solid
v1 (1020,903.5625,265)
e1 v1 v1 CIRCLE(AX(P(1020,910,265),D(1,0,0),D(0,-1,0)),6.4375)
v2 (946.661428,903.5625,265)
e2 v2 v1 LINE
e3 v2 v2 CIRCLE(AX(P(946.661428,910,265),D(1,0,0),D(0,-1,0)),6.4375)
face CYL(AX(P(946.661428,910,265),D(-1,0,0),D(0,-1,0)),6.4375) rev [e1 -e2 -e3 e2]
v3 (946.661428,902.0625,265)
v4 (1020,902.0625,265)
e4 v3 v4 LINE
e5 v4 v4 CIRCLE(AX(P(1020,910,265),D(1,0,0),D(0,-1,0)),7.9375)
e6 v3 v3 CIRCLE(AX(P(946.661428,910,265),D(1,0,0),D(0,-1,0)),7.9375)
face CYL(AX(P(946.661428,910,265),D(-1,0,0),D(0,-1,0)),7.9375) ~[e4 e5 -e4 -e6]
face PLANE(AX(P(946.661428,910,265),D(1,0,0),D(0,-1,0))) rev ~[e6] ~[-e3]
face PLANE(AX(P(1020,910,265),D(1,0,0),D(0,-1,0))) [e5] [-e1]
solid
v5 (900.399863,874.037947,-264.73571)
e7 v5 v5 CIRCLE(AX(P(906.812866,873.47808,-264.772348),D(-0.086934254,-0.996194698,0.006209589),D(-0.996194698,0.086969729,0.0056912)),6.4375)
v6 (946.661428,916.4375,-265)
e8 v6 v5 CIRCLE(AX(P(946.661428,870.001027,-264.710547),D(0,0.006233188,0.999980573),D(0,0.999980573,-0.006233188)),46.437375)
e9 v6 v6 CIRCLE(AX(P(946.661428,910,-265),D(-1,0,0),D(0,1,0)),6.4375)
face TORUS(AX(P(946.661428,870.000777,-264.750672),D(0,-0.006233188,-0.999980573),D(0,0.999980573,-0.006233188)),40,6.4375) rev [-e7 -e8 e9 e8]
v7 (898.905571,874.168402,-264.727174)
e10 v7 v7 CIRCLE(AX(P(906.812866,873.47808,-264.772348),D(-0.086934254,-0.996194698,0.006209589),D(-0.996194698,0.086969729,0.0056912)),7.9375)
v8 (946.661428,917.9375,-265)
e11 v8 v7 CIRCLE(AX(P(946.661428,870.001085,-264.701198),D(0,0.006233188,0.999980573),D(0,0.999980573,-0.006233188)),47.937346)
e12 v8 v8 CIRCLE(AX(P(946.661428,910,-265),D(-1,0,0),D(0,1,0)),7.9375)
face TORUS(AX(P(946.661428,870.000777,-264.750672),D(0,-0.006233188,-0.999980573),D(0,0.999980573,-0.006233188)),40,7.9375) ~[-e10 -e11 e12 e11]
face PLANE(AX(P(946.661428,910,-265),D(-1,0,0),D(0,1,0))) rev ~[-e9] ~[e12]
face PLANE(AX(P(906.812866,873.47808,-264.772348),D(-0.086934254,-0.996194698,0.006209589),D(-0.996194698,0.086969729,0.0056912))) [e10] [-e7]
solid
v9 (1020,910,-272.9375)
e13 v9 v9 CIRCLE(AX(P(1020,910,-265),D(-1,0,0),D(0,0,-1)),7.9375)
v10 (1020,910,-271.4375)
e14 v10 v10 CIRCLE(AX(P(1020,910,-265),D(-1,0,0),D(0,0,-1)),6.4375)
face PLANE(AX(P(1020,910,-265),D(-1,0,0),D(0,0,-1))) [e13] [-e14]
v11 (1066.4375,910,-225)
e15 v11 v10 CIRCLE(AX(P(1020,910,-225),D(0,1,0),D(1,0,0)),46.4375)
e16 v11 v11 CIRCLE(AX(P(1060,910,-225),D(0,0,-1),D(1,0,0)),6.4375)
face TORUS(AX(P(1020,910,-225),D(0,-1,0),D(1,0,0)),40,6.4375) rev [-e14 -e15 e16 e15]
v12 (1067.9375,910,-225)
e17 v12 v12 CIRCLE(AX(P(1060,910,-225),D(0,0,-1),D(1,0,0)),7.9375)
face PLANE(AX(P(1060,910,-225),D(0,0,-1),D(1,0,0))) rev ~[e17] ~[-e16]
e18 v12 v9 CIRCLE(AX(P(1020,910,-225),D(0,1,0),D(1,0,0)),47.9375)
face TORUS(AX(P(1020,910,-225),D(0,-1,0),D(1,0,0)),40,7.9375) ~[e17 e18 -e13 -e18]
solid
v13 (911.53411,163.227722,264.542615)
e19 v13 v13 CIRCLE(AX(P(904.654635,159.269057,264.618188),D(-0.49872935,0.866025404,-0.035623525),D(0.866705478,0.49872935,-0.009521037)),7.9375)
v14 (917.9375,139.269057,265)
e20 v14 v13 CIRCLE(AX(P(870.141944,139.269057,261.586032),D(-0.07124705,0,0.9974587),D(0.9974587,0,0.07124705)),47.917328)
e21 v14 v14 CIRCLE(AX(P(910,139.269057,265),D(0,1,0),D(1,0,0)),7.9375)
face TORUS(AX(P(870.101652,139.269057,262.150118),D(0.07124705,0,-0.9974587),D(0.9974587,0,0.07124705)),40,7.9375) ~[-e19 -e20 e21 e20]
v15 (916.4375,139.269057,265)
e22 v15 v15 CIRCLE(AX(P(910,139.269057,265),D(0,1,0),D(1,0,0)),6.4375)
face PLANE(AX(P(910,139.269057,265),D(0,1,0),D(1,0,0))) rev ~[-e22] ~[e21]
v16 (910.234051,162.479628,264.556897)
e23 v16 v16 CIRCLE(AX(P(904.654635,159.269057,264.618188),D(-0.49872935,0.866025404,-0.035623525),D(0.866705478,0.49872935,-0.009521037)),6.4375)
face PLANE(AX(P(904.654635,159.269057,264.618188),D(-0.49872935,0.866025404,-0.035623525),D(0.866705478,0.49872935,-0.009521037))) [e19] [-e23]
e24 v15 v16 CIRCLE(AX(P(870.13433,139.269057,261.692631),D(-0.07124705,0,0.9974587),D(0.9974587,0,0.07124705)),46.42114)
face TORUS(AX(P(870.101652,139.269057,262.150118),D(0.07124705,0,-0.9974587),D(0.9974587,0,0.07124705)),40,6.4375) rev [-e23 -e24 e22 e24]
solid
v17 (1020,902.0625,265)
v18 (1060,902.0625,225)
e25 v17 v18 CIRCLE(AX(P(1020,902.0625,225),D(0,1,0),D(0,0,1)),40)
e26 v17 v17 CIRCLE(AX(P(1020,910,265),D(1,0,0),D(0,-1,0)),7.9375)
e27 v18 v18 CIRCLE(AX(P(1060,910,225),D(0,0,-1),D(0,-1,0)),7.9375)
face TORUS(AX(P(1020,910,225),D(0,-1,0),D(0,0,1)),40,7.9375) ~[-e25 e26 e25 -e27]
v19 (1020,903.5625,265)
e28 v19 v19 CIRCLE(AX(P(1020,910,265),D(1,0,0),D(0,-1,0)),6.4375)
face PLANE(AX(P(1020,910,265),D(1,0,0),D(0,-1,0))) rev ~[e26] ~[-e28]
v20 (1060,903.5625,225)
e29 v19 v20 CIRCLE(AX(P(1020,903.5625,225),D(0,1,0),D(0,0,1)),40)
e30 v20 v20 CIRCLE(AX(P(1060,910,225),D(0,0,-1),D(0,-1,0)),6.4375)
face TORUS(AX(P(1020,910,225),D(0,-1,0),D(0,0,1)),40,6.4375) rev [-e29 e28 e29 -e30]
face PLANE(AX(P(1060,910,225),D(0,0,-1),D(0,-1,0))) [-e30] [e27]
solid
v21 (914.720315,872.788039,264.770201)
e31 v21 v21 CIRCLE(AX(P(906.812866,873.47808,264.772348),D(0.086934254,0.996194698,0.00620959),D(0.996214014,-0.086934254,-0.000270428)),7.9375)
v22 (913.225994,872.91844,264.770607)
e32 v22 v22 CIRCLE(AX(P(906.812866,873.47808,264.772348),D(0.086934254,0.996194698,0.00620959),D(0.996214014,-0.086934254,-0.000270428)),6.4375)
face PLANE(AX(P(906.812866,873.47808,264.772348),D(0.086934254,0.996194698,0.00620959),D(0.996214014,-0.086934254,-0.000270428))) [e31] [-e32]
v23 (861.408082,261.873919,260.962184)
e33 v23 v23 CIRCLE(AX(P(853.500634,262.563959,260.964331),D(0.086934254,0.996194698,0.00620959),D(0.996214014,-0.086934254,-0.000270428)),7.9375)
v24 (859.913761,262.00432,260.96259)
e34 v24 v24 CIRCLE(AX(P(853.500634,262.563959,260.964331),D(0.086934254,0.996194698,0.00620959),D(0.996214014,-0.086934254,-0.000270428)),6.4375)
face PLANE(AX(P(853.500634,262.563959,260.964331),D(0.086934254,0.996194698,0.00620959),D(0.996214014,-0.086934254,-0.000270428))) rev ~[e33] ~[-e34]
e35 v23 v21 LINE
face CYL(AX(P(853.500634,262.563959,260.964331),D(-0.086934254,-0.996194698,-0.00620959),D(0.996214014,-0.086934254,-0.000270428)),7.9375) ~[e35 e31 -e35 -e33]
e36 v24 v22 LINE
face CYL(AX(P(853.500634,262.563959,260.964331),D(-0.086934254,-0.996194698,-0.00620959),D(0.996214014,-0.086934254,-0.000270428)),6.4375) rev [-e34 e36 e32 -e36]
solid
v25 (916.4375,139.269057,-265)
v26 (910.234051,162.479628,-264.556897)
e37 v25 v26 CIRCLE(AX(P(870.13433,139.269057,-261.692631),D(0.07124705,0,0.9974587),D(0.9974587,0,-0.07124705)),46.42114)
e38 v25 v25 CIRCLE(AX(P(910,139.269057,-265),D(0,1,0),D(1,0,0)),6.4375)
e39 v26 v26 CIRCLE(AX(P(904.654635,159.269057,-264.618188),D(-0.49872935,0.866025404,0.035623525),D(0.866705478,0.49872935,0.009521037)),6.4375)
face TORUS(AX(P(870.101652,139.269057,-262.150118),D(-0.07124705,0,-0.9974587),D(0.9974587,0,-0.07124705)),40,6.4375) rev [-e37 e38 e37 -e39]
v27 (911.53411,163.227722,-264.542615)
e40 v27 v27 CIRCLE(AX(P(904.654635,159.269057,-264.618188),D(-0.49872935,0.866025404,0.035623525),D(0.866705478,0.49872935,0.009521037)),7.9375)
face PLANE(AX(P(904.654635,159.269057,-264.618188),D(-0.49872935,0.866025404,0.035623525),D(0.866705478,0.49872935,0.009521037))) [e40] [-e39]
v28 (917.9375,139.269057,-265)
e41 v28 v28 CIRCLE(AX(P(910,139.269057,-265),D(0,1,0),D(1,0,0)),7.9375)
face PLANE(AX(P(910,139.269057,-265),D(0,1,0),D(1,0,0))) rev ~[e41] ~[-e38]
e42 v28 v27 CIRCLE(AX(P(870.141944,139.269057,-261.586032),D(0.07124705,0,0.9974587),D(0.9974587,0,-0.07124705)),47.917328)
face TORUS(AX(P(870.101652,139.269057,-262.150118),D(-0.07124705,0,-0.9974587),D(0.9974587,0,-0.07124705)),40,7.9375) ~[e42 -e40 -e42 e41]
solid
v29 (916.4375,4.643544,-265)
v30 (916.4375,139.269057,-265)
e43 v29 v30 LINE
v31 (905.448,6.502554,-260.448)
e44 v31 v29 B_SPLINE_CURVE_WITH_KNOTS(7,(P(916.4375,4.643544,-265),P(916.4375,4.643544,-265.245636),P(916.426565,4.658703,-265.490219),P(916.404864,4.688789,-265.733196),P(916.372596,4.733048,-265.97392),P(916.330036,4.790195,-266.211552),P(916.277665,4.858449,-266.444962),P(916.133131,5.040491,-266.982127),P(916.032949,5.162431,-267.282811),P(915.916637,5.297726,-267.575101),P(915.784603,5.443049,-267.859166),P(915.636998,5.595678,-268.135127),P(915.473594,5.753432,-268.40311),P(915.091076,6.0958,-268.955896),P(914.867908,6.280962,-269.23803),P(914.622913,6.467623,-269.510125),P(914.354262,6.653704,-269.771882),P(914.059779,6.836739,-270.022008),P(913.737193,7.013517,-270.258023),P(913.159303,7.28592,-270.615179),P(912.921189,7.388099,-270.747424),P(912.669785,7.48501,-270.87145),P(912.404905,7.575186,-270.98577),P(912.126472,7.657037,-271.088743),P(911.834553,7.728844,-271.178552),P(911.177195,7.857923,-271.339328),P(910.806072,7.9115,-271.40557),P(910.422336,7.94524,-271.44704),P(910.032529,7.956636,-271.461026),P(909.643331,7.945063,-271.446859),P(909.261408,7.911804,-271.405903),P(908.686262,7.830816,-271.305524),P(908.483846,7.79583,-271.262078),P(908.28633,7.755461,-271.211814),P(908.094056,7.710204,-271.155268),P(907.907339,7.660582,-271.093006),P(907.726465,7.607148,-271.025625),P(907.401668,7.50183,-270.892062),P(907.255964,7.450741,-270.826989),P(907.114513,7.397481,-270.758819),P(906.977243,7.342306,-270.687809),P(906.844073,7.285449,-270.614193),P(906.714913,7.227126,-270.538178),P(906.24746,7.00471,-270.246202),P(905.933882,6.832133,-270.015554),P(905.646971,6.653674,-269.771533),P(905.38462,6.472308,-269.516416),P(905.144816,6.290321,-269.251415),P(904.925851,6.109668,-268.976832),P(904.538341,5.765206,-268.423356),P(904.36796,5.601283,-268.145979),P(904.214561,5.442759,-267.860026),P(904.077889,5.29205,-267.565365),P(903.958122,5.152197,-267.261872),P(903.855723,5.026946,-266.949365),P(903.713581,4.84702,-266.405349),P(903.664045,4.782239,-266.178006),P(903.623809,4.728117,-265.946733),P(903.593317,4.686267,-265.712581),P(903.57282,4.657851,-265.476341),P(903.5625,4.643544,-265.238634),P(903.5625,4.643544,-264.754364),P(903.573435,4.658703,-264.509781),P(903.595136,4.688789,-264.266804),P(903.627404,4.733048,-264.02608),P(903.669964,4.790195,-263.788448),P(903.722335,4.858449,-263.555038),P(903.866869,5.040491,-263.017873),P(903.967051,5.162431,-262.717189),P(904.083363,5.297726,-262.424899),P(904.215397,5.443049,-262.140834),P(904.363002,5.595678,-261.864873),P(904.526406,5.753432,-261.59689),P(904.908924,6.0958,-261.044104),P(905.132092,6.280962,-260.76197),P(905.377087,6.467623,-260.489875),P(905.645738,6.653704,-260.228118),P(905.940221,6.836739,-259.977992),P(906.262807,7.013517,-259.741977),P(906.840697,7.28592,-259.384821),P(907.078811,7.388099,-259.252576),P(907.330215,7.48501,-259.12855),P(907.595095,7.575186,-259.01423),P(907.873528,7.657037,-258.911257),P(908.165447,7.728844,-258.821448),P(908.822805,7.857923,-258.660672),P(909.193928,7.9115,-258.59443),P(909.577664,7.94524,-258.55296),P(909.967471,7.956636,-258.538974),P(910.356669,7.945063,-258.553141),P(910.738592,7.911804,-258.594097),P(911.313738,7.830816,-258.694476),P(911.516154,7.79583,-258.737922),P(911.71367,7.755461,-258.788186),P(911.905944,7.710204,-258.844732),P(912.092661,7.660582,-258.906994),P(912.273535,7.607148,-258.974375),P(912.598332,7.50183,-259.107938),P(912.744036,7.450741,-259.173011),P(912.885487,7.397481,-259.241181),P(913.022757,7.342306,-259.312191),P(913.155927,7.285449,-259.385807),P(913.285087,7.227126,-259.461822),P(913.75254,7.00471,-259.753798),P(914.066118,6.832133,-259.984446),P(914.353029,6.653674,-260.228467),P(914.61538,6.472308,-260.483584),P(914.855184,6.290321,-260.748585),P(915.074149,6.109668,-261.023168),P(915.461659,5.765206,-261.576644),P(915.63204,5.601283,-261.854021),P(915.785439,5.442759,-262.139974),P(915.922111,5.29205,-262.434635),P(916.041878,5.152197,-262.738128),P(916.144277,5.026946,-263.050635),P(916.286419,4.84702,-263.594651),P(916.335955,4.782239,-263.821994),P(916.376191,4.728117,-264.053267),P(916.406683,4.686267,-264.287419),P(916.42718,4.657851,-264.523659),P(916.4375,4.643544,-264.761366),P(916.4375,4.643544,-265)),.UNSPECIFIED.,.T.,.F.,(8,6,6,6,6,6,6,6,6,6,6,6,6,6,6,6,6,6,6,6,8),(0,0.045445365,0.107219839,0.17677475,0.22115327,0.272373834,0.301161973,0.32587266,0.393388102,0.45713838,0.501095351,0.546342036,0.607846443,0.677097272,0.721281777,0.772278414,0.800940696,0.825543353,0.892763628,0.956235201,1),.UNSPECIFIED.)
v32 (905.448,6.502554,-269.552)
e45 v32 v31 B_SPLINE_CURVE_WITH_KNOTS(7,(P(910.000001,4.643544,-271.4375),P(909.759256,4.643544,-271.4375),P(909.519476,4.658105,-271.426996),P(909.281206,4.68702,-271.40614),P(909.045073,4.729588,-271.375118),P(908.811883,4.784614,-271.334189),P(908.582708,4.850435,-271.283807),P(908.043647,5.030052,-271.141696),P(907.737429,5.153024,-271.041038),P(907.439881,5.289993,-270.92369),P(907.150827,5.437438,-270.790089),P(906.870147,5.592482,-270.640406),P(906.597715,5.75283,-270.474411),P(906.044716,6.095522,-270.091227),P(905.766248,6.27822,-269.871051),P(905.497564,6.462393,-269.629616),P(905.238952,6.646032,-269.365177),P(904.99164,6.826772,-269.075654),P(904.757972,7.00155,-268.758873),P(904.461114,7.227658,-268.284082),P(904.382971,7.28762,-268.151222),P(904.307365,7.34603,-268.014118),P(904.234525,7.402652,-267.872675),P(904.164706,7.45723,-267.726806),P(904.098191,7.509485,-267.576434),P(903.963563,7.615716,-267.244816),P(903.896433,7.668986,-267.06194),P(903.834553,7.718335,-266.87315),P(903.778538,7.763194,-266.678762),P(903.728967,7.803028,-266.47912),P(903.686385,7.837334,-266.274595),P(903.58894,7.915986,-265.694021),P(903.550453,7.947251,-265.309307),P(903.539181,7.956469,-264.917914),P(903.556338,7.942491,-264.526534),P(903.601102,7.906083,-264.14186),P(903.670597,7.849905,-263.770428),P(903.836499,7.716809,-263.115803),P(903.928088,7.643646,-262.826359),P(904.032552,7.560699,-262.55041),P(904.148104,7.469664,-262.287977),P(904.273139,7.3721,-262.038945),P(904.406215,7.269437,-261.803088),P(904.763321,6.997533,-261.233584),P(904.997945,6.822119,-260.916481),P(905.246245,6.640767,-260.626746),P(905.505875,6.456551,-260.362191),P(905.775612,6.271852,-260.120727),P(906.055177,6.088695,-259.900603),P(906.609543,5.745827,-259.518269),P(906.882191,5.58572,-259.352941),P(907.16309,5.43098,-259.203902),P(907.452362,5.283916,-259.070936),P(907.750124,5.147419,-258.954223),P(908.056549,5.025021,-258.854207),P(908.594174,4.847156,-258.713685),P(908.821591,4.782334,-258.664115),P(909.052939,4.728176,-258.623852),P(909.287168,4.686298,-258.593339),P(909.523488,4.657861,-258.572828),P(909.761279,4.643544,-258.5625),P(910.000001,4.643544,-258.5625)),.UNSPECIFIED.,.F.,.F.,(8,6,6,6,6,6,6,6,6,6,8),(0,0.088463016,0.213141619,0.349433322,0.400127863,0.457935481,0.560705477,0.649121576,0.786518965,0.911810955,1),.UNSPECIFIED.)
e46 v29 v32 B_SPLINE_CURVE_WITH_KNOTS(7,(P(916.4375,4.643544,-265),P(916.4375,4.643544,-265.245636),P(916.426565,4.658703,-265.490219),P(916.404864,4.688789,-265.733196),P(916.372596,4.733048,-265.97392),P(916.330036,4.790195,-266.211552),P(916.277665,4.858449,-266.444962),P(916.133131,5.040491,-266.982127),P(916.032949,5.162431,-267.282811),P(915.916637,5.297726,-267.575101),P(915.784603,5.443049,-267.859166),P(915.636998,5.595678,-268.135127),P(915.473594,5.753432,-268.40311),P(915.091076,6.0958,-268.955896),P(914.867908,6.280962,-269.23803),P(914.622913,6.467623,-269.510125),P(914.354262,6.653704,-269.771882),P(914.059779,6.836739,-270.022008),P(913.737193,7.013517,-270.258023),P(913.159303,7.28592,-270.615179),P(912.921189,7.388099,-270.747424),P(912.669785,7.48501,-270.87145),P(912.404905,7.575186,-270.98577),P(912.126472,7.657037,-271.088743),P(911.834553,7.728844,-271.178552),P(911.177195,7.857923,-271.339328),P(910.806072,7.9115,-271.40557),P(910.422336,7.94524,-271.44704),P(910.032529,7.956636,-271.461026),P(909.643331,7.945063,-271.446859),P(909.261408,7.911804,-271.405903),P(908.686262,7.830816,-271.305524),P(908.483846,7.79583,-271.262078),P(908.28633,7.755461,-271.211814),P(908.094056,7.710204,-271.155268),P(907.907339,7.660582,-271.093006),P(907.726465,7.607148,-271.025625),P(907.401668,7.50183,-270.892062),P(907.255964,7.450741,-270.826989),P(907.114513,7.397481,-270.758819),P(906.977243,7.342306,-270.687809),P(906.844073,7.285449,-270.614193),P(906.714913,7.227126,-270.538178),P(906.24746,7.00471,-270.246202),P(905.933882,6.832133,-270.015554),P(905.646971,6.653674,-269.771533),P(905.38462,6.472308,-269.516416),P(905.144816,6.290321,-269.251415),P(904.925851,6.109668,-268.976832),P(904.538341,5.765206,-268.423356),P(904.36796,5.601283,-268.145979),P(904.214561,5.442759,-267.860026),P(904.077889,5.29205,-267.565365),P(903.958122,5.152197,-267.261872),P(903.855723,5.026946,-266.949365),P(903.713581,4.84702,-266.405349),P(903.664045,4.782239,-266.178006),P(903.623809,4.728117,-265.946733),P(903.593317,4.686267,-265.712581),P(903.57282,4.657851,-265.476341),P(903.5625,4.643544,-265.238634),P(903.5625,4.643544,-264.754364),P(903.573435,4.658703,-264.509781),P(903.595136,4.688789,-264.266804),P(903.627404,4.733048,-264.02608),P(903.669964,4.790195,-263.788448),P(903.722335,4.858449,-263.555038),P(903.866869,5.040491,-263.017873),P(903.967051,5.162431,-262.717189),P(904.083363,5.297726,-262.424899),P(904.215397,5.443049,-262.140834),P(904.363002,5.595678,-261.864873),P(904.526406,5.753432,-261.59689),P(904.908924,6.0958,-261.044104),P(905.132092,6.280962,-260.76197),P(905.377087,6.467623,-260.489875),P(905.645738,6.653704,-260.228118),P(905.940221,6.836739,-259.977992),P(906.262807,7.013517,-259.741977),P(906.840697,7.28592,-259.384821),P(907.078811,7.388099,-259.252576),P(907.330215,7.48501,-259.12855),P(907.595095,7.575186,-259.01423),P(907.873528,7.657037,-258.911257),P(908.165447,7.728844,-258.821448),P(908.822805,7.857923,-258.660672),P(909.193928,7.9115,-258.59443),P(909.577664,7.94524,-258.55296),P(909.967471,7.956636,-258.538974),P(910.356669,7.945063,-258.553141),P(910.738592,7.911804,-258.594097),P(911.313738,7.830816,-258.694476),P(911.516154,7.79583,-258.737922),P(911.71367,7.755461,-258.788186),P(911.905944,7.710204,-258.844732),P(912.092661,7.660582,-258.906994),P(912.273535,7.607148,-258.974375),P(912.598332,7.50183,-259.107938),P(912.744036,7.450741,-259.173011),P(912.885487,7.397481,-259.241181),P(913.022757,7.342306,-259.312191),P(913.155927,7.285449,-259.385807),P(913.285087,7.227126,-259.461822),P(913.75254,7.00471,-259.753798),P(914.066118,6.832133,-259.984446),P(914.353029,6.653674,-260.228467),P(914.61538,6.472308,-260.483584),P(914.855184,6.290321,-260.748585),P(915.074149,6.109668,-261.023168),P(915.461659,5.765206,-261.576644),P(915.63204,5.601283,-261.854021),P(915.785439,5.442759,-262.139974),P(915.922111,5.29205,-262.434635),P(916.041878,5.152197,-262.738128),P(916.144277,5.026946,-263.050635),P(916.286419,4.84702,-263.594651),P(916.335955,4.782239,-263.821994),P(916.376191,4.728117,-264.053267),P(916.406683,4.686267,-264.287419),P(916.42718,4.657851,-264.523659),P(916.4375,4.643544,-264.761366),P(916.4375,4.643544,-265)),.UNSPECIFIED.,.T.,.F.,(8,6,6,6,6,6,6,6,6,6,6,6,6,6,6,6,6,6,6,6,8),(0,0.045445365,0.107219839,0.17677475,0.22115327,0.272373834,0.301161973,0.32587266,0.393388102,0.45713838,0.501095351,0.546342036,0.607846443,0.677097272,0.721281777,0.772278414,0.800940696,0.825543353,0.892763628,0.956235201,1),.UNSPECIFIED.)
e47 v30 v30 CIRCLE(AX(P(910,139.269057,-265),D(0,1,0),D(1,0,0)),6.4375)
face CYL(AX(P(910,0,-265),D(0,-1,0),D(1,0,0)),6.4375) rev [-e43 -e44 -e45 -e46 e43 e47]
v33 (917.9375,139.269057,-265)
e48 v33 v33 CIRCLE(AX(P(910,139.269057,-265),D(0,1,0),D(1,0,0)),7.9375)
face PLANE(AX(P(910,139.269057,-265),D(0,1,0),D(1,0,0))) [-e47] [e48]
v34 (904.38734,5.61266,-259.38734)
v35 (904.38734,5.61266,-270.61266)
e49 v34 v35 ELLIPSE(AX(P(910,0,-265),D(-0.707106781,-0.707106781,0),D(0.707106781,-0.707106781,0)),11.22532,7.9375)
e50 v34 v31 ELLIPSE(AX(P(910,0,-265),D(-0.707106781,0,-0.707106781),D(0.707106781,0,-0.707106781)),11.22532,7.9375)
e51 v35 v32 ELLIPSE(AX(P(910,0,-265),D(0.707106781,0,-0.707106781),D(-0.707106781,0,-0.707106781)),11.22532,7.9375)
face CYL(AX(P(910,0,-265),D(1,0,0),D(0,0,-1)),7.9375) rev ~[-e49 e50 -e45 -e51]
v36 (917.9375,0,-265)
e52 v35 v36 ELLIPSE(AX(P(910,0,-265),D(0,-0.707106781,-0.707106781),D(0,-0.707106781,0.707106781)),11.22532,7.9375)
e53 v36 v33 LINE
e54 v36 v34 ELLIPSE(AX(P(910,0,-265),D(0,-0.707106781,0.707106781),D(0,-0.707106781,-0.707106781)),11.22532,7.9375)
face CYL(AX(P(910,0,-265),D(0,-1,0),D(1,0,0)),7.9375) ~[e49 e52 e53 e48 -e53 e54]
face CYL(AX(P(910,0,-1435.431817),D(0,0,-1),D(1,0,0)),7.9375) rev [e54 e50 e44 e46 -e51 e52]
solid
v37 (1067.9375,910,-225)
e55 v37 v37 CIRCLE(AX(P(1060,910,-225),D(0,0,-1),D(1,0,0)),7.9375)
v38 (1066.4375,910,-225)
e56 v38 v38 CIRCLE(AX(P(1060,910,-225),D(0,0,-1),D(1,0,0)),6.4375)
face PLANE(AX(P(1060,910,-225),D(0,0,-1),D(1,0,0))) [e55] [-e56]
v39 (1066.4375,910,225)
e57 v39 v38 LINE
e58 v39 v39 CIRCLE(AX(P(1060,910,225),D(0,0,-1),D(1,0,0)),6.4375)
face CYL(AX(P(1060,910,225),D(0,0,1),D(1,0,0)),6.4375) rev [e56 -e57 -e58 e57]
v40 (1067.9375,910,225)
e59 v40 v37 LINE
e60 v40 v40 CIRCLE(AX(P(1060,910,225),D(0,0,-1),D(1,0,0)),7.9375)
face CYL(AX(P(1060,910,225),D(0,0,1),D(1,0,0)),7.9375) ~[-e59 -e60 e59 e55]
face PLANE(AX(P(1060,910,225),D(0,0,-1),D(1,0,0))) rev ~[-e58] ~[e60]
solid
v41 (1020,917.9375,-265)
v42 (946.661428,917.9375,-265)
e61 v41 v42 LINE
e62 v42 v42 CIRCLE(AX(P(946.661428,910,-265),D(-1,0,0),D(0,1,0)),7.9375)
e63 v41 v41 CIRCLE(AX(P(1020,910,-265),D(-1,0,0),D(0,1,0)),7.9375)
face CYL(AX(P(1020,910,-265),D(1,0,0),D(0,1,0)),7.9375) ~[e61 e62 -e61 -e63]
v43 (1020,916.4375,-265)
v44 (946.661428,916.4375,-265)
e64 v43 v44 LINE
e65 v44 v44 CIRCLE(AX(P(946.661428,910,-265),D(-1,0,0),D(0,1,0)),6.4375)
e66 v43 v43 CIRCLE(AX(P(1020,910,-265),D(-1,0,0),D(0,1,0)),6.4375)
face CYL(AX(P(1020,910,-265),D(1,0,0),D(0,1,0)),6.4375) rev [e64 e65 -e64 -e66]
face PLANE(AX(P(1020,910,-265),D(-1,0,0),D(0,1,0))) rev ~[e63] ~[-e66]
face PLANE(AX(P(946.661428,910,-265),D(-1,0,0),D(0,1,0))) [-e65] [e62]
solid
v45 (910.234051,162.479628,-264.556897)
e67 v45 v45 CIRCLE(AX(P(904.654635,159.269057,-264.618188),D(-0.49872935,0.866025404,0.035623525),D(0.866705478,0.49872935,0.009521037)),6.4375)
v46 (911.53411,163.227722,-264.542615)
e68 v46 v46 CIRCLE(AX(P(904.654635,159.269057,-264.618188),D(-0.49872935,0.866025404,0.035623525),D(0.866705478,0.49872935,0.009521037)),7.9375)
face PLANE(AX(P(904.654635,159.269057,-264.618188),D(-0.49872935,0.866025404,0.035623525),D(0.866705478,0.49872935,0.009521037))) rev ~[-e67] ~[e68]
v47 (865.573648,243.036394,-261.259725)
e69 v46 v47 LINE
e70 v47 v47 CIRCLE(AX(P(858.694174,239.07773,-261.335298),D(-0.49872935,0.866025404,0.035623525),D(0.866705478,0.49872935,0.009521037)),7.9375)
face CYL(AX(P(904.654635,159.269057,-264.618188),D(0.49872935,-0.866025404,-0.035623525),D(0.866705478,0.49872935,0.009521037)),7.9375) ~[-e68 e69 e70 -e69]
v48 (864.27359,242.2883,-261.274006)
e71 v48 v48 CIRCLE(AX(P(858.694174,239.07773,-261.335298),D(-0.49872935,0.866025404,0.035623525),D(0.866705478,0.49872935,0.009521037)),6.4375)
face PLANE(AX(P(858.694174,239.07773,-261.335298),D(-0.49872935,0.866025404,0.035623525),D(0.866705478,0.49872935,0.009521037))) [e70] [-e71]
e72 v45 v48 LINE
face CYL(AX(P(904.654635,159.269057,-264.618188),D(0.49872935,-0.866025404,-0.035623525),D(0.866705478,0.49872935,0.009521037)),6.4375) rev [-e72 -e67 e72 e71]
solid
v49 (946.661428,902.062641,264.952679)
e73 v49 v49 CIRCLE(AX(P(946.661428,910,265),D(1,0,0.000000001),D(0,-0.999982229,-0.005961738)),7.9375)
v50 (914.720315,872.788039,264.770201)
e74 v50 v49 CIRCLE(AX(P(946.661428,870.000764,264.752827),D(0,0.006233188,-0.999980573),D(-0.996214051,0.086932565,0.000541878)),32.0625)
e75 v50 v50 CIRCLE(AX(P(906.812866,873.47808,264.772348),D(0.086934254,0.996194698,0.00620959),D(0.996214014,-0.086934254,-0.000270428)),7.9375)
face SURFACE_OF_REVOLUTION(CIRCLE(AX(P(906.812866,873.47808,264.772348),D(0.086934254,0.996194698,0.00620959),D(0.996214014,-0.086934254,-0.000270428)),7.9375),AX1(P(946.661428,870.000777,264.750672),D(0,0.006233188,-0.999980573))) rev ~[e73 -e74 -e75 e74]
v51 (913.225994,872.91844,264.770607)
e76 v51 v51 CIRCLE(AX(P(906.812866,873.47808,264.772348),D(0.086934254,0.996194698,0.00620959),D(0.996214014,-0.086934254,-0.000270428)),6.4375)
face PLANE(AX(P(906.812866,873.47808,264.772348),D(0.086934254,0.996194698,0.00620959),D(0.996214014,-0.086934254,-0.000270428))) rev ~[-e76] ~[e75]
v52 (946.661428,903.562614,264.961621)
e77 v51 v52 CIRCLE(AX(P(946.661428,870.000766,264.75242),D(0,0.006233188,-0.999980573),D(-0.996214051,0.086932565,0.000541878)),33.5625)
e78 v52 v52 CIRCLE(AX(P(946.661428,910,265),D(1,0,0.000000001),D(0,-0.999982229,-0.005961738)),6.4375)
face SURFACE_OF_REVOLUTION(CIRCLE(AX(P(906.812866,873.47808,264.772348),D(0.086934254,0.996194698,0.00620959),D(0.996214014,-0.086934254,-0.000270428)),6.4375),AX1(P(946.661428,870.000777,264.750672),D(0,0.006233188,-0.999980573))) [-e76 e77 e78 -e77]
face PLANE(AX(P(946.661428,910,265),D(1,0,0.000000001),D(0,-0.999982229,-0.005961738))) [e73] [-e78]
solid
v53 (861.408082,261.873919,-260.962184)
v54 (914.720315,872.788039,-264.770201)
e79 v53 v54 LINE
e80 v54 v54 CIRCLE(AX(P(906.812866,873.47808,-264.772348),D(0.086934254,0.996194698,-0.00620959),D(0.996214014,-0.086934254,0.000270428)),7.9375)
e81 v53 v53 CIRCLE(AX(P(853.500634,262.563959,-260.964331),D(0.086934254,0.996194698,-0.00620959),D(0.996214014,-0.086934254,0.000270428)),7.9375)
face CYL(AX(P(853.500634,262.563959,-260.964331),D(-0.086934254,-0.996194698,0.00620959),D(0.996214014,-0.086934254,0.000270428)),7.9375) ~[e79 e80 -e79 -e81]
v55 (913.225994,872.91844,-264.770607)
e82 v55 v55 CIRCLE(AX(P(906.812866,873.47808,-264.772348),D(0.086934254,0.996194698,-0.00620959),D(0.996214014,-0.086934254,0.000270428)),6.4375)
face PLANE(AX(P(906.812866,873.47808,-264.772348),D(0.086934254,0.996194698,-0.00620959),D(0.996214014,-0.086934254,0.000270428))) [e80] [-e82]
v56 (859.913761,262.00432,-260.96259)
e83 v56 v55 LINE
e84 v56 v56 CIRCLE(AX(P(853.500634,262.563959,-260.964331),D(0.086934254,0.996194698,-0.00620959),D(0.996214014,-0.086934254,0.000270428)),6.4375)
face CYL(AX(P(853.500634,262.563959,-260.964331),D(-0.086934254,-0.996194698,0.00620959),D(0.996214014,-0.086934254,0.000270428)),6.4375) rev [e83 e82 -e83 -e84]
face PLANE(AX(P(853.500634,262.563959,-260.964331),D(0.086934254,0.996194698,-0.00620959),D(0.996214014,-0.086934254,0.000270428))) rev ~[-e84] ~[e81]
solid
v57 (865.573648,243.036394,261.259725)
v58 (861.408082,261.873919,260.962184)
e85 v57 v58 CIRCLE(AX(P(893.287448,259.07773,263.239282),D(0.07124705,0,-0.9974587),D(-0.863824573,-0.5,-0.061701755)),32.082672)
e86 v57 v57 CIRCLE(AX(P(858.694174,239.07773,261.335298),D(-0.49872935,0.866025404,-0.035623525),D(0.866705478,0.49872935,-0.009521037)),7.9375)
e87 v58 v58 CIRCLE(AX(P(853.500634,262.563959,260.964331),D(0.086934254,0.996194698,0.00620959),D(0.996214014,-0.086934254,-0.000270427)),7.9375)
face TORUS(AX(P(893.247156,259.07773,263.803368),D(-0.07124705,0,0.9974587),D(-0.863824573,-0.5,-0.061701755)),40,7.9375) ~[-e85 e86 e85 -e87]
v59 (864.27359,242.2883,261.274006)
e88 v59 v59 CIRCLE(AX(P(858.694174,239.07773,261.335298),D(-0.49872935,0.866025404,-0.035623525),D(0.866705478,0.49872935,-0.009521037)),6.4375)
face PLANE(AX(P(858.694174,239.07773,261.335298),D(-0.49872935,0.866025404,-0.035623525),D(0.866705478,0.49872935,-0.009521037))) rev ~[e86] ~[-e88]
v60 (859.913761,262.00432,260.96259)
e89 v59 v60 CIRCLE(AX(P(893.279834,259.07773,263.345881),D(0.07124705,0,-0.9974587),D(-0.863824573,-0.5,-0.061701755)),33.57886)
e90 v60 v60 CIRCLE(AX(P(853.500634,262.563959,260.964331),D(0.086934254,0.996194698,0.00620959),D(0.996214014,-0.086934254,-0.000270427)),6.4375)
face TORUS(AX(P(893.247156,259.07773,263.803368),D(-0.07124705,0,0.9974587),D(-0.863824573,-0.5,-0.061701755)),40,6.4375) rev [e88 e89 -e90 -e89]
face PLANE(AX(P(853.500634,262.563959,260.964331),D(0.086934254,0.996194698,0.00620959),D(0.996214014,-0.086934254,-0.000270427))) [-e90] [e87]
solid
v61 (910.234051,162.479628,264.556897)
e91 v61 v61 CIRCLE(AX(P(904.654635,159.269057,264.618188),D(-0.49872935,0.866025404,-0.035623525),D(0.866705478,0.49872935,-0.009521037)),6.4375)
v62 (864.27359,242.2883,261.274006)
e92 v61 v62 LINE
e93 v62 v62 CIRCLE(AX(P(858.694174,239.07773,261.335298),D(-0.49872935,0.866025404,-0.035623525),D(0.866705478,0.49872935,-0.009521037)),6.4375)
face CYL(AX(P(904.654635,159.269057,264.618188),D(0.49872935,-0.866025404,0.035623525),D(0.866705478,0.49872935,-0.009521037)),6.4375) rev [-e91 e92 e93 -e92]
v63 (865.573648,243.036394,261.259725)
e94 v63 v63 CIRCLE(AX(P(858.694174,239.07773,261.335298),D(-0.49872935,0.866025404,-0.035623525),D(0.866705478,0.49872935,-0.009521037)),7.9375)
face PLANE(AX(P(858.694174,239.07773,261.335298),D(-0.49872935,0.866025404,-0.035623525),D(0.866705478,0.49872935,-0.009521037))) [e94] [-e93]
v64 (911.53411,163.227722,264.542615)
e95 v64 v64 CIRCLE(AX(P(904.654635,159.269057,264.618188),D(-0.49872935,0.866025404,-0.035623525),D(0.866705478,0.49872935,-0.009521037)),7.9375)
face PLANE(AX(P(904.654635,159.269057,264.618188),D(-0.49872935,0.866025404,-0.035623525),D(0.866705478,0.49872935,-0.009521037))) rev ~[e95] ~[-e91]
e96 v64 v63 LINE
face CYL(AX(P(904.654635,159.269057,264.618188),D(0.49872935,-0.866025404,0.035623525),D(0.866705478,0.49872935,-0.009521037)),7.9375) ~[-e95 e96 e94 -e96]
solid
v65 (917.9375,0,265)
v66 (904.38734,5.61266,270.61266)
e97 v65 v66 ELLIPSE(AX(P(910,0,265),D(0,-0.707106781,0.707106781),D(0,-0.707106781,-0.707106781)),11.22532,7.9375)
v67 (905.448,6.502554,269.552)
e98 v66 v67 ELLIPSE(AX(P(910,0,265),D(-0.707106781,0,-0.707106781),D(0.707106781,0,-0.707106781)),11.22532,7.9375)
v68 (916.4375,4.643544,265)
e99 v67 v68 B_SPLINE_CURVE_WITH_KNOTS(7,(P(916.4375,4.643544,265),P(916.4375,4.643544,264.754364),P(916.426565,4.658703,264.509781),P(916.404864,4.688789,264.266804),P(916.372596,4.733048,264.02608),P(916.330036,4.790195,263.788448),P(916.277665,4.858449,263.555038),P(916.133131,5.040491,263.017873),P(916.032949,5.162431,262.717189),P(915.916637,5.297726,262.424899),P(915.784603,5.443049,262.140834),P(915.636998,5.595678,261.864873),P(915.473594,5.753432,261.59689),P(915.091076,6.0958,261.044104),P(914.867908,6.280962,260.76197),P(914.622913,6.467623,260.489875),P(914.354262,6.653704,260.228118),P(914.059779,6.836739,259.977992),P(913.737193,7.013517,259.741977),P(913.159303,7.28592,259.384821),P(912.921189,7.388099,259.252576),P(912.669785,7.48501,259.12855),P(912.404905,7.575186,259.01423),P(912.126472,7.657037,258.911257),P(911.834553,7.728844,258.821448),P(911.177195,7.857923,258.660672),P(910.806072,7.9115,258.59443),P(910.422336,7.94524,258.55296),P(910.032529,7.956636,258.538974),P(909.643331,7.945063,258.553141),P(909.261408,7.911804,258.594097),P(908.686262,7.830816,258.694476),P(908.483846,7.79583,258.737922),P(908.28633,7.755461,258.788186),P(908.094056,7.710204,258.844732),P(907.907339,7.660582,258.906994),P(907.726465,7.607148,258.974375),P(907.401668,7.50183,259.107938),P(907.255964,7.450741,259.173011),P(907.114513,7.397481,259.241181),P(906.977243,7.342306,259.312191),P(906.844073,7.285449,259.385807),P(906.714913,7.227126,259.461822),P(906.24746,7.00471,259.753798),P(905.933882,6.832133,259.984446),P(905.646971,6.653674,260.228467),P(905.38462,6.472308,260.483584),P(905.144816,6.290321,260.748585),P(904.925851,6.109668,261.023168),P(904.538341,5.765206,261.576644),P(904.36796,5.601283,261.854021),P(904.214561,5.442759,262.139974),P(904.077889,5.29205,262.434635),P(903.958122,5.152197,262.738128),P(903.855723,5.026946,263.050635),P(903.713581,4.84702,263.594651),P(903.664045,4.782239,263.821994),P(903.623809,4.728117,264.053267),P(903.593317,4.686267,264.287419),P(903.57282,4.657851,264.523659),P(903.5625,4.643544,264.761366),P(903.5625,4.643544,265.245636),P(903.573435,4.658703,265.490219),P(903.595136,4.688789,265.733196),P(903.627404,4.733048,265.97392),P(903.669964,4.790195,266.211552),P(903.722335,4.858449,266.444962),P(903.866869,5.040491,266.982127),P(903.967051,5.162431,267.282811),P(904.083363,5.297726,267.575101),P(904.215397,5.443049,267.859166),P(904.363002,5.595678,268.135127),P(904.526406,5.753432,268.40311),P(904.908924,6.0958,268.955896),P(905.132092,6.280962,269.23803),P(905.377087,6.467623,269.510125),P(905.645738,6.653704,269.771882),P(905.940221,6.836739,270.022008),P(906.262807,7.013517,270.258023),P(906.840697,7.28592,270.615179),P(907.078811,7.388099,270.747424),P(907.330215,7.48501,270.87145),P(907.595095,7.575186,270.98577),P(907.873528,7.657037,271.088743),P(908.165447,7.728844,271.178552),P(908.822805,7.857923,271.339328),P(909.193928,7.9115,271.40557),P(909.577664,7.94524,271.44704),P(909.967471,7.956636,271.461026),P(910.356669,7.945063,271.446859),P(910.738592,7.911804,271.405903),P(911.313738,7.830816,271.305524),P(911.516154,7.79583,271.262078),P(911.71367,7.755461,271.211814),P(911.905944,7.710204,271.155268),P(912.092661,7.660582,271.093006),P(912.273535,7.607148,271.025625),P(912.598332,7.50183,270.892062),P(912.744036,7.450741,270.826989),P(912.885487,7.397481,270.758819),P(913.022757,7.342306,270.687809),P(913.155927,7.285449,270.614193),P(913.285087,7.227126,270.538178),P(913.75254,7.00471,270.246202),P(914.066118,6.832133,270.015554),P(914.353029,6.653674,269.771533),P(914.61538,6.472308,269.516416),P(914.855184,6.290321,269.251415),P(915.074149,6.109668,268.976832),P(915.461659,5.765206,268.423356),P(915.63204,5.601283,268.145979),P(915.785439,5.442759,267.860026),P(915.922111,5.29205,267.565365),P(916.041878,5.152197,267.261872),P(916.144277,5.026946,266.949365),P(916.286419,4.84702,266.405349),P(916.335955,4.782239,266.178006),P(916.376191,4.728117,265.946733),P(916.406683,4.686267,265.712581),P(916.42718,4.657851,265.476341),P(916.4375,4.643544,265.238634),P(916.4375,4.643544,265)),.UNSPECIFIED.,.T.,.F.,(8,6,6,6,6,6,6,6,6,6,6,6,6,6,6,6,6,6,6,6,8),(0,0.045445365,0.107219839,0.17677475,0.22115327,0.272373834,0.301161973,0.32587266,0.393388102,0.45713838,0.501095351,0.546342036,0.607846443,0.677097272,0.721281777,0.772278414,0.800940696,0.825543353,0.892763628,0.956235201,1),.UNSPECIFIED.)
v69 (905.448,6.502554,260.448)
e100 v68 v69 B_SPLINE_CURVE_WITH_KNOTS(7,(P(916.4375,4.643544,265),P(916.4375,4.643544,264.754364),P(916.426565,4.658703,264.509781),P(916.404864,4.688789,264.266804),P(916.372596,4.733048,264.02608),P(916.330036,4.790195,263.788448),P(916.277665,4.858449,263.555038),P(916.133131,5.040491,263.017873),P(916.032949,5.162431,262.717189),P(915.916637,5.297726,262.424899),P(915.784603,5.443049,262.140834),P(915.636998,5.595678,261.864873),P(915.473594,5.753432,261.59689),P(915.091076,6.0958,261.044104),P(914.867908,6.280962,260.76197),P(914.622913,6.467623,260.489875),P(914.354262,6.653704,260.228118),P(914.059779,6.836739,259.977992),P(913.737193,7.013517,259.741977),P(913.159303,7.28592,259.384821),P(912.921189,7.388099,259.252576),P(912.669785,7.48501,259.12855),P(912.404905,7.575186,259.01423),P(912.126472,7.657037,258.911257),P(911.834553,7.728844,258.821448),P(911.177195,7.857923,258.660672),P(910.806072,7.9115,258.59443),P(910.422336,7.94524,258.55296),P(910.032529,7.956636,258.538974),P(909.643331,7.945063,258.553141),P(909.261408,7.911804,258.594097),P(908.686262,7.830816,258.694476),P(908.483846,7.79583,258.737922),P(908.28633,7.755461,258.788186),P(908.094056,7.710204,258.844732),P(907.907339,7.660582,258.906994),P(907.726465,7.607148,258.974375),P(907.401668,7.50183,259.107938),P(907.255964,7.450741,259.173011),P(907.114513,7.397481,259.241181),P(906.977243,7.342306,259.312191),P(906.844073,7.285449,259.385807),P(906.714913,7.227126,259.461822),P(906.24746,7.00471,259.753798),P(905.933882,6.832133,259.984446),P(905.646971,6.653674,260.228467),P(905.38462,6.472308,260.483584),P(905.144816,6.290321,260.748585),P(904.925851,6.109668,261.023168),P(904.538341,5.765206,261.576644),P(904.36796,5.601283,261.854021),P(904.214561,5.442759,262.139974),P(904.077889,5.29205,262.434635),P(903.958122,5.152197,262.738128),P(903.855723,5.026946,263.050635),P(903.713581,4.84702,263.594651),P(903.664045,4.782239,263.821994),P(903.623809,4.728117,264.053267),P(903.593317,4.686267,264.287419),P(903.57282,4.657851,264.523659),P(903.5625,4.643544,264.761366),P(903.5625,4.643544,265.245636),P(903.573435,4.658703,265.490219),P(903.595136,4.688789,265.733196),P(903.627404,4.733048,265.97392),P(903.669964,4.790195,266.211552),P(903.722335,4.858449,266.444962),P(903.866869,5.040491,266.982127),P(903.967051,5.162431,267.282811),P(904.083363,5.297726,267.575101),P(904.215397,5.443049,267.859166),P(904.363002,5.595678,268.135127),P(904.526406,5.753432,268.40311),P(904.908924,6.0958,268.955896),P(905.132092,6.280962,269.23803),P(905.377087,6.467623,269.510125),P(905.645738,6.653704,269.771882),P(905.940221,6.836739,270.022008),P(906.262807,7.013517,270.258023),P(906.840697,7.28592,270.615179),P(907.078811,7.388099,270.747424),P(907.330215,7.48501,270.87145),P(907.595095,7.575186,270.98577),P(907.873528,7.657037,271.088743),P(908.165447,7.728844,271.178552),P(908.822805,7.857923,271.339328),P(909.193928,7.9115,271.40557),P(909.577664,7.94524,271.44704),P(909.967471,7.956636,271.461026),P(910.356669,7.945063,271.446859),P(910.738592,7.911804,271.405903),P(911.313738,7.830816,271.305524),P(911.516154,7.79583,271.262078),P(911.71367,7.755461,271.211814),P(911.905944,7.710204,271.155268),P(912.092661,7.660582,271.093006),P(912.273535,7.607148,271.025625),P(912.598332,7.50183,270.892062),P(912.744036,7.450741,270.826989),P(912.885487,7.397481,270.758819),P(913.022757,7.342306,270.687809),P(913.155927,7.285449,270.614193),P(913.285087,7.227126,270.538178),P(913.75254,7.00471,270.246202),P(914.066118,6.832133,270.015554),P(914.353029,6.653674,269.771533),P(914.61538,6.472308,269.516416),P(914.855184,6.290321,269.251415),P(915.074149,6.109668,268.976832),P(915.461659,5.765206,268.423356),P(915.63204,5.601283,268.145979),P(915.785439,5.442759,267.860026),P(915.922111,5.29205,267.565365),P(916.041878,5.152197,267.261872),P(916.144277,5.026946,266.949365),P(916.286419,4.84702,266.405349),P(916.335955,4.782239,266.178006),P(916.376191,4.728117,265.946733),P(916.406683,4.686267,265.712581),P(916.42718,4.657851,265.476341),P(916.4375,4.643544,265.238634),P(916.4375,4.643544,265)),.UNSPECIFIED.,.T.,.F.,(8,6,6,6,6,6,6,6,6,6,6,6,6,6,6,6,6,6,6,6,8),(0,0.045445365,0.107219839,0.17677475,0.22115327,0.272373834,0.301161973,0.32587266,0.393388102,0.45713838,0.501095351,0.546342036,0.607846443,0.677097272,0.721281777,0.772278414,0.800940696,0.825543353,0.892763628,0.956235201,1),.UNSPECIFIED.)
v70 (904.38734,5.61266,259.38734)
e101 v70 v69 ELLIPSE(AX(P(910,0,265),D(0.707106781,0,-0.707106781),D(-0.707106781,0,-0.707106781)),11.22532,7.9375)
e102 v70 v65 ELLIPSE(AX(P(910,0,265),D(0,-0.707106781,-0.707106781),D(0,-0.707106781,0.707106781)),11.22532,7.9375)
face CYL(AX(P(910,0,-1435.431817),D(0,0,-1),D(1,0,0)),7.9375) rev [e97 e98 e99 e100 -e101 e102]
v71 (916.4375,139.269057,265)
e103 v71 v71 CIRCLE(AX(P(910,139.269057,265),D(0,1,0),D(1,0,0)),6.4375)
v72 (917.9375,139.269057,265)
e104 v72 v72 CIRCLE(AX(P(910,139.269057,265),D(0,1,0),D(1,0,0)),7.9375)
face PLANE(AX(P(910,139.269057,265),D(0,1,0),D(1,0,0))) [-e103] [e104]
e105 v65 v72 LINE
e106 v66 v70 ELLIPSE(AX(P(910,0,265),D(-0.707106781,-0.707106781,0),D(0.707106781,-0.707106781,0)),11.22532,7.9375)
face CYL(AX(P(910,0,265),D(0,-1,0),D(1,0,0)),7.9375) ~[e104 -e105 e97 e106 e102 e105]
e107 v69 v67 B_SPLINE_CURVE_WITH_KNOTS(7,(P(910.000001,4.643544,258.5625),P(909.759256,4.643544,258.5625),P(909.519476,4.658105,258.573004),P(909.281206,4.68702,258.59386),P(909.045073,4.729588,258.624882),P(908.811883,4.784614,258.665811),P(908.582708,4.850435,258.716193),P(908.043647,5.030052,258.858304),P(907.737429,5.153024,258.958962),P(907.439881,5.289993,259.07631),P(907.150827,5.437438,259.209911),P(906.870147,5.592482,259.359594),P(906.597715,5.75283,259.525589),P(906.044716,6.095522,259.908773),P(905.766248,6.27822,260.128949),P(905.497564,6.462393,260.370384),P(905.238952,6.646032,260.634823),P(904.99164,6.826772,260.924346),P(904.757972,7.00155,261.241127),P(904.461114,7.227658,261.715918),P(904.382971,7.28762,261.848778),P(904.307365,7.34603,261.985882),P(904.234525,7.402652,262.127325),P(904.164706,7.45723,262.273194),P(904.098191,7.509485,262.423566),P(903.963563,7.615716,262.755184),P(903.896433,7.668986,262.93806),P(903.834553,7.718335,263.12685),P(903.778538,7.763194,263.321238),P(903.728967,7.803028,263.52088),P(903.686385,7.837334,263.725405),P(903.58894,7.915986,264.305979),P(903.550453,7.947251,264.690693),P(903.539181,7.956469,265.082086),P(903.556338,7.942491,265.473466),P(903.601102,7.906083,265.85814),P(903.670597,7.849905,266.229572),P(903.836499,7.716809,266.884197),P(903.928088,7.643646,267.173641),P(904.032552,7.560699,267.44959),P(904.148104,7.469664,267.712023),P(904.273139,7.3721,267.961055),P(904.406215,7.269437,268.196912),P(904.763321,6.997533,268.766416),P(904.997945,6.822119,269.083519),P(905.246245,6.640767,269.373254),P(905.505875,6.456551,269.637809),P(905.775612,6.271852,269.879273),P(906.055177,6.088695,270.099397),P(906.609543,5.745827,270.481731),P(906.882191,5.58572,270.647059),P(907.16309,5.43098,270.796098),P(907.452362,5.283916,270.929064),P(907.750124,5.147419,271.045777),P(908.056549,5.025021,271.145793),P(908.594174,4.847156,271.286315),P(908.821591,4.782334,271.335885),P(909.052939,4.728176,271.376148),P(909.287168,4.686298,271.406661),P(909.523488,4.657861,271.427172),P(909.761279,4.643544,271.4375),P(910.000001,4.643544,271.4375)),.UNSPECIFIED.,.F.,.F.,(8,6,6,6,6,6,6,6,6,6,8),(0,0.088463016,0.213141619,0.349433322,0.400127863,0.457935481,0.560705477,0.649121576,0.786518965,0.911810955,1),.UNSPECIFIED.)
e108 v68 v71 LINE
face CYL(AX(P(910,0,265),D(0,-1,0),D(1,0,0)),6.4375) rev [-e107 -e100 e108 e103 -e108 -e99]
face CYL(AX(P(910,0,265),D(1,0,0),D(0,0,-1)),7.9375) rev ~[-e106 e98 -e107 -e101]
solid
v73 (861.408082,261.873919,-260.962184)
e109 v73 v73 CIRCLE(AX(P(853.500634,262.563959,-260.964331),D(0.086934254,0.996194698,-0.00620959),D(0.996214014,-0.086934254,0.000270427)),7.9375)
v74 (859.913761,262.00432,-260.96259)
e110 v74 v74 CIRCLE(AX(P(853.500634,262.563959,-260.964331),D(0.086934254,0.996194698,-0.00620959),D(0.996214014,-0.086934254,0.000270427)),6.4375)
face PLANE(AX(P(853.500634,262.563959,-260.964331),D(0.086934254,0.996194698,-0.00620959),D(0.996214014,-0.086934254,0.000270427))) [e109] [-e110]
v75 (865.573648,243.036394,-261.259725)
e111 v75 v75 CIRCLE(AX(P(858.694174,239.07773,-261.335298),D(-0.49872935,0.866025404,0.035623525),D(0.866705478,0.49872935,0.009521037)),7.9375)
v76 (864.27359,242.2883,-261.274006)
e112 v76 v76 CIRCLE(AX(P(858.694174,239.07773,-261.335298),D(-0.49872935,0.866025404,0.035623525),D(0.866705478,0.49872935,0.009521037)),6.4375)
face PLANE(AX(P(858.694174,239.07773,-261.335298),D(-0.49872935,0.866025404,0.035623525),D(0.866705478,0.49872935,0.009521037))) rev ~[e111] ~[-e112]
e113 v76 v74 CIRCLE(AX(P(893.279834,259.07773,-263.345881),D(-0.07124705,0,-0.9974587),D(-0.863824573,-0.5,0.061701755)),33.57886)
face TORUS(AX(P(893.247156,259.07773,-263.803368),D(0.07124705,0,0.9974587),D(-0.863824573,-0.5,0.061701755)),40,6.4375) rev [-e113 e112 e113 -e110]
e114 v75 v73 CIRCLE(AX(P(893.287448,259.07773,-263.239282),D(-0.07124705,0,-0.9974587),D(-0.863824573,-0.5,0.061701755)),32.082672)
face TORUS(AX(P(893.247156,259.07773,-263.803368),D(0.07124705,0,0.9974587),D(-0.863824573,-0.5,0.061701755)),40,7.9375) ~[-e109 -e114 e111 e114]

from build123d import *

# Parameters (mm, degrees)
SKETCH1_R                             = 7.9375
SKETCH1_R_2                           = 6.4375
PIPE_CONFIGURED_21_3_X_2_3_5_DEPTH    = 139.269057496
SKETCH1_ON_SEGMENT_2_R                = 7.9375
SKETCH1_ON_SEGMENT_2_R_2              = 6.4375
PIPE_CONFIGURED_21_3_X_2_3_5_2_ANGLE  = 30
SKETCH1_ON_SEGMENT_3_R                = 7.9375
SKETCH1_ON_SEGMENT_3_R_2              = 6.4375
PIPE_CONFIGURED_21_3_X_2_3_5_3_DEPTH  = 92.155116602
SKETCH1_ON_SEGMENT_4_R                = 7.9375
SKETCH1_ON_SEGMENT_4_R_2              = 6.4375
PIPE_CONFIGURED_21_3_X_2_3_5_4_ANGLE  = 35
SKETCH1_ON_SEGMENT_5_R                = 7.9375
SKETCH1_ON_SEGMENT_5_R_2              = 6.4375
PIPE_CONFIGURED_21_3_X_2_3_5_5_DEPTH  = 613.247713082
SKETCH1_ON_SEGMENT_6_R                = 7.9375
SKETCH1_ON_SEGMENT_6_R_2              = 6.4375
PIPE_CONFIGURED_21_3_X_2_3_5_6_ANGLE  = 85.012738731
SKETCH1_ON_SEGMENT_7_R                = 7.9375
SKETCH1_ON_SEGMENT_7_R_2              = 6.4375
PIPE_CONFIGURED_21_3_X_2_3_5_7_DEPTH  = 73.338571858
SKETCH1_ON_SEGMENT_8_R                = 7.9375
SKETCH1_ON_SEGMENT_8_R_2              = 6.4375
PIPE_CONFIGURED_21_3_X_2_3_5_8_ANGLE  = 90
SKETCH1_ON_SEGMENT_9_R                = 7.9375
SKETCH1_ON_SEGMENT_9_R_2              = 6.4375
PIPE_CONFIGURED_21_3_X_2_3_5_9_DEPTH  = 450
SKETCH1_ON_SEGMENT_10_R               = 7.9375
SKETCH1_ON_SEGMENT_10_R_2             = 6.4375
PIPE_CONFIGURED_21_3_X_2_3_5_10_ANGLE = 90
SKETCH1_ON_SEGMENT_11_R               = 7.9375
SKETCH1_ON_SEGMENT_11_R_2             = 6.4375
PIPE_CONFIGURED_21_3_X_2_3_5_11_DEPTH = 73.338571858
SKETCH1_ON_SEGMENT_12_R               = 7.9375
SKETCH1_ON_SEGMENT_12_R_2             = 6.4375
PIPE_CONFIGURED_21_3_X_2_3_5_12_ANGLE = 85.012738731
SKETCH1_ON_SEGMENT_13_R               = 7.9375
SKETCH1_ON_SEGMENT_13_R_2             = 6.4375
PIPE_CONFIGURED_21_3_X_2_3_5_13_DEPTH = 613.247713082
SKETCH1_ON_SEGMENT_14_R               = 7.9375
SKETCH1_ON_SEGMENT_14_R_2             = 6.4375
PIPE_CONFIGURED_21_3_X_2_3_5_14_ANGLE = 35
SKETCH1_ON_SEGMENT_15_R               = 7.9375
SKETCH1_ON_SEGMENT_15_R_2             = 6.4375
PIPE_CONFIGURED_21_3_X_2_3_5_15_DEPTH = 92.155116602
SKETCH1_ON_SEGMENT_16_R               = 7.9375
SKETCH1_ON_SEGMENT_16_R_2             = 6.4375
PIPE_CONFIGURED_21_3_X_2_3_5_16_ANGLE = 30
SKETCH1_ON_SEGMENT_17_R               = 7.9375
SKETCH1_ON_SEGMENT_17_R_2             = 6.4375
PIPE_CONFIGURED_21_3_X_2_3_5_17_DEPTH = 139.269057496
CORTE_EXTRUS_O3_DEPTH                 = 1435.431816843
CORTE_EXTRUS_O3_DEPTH_BACK            = 1435.431816843
ESBO_O12_R                            = 7.9375
ESBO_O14_R                            = 7.9375
CORTE_EXTRUS_O5_DEPTH                 = 30


with BuildPart() as part:
    # Sketch1 → Pipe - configured 21.3 X 2.3(5) (new body)
    with BuildSketch(Plane(origin=(910, 0, 265), x_dir=(1, 0, 0), z_dir=(0, 1, 0))):
        Circle(SKETCH1_R)
        Circle(SKETCH1_R_2, mode=Mode.SUBTRACT)
    extrude(amount=PIPE_CONFIGURED_21_3_X_2_3_5_DEPTH)


with BuildPart() as body_2:
    # Sketch1 on segment 2 (carried to the start of arc 2) → Pipe - configured 21.3 X 2.3_5 2 (revolve)
    with BuildSketch(Plane(origin=(910, 139.269057496, 265), x_dir=(1, 0, 0), z_dir=(0, 1, 0))):
        Circle(SKETCH1_ON_SEGMENT_2_R)
        Circle(SKETCH1_ON_SEGMENT_2_R_2, mode=Mode.SUBTRACT)
    revolve(axis=Axis((870.101652007, 139.269057496, 262.150118), (-0.07124705, 0, 0.9974587)), revolution_arc=PIPE_CONFIGURED_21_3_X_2_3_5_2_ANGLE)


with BuildPart() as body_3:
    # Sketch1 on segment 3 (carried to segment 3) → Pipe - configured 21.3 X 2.3_5 3 (new body)
    with BuildSketch(Plane(origin=(904.654634938, 159.269057496, 264.61818821), x_dir=(0.866705478, 0.49872935, -0.009521037), z_dir=(-0.49872935, 0.866025404, -0.035623525))):
        Circle(SKETCH1_ON_SEGMENT_3_R)
        Circle(SKETCH1_ON_SEGMENT_3_R_2, mode=Mode.SUBTRACT)
    extrude(amount=PIPE_CONFIGURED_21_3_X_2_3_5_3_DEPTH)


with BuildPart() as body_4:
    # Sketch1 on segment 4 (carried to the start of arc 4) → Pipe - configured 21.3 X 2.3_5 4 (revolve)
    with BuildSketch(Plane(origin=(858.694173544, 239.077729562, 261.33529811), x_dir=(0.866705478, 0.49872935, -0.009521037), z_dir=(-0.49872935, 0.866025404, -0.035623525))):
        Circle(SKETCH1_ON_SEGMENT_4_R)
        Circle(SKETCH1_ON_SEGMENT_4_R_2, mode=Mode.SUBTRACT)
    revolve(axis=Axis((893.247156475, 259.077729562, 263.80336832), (0.07124705, 0, -0.9974587)), revolution_arc=PIPE_CONFIGURED_21_3_X_2_3_5_4_ANGLE)


with BuildPart() as body_5:
    # Sketch1 on segment 5 (carried to segment 5) → Pipe - configured 21.3 X 2.3_5 5 (new body)
    with BuildSketch(Plane(origin=(853.500633741, 262.563959272, 260.964330982), x_dir=(0.996214014, -0.086934254, -0.000270428), z_dir=(0.086934254, 0.996194698, 0.00620959))):
        Circle(SKETCH1_ON_SEGMENT_5_R)
        Circle(SKETCH1_ON_SEGMENT_5_R_2, mode=Mode.SUBTRACT)
    extrude(amount=PIPE_CONFIGURED_21_3_X_2_3_5_5_DEPTH)


with BuildPart() as body_6:
    # Sketch1 on segment 6 (carried to the start of arc 6) → Pipe - configured 21.3 X 2.3_5 6 (revolve)
    with BuildSketch(Plane(origin=(906.8128661, 873.478079661, 264.772347579), x_dir=(0.996214014, -0.086934254, -0.000270428), z_dir=(0.086934254, 0.996194698, 0.00620959))):
        Circle(SKETCH1_ON_SEGMENT_6_R)
        Circle(SKETCH1_ON_SEGMENT_6_R_2, mode=Mode.SUBTRACT)
    revolve(axis=Axis((946.661428142, 870.00077706, 264.750672476), (0, 0.006233188, -0.999980573)), revolution_arc=PIPE_CONFIGURED_21_3_X_2_3_5_6_ANGLE)


with BuildPart() as body_7:
    # Sketch1 on segment 7 (carried to segment 7) → Pipe - configured 21.3 X 2.3_5 7 (new body)
    with BuildSketch(Plane(origin=(946.661428142, 910, 265), x_dir=(0, -1, 0), z_dir=(1, 0, 0))):
        Circle(SKETCH1_ON_SEGMENT_7_R)
        Circle(SKETCH1_ON_SEGMENT_7_R_2, mode=Mode.SUBTRACT)
    extrude(amount=PIPE_CONFIGURED_21_3_X_2_3_5_7_DEPTH)


with BuildPart() as body_8:
    # Sketch1 on segment 8 (carried to the start of arc 8) → Pipe - configured 21.3 X 2.3_5 8 (revolve)
    with BuildSketch(Plane(origin=(1020, 910, 265), x_dir=(0, -1, 0), z_dir=(1, 0, 0))):
        Circle(SKETCH1_ON_SEGMENT_8_R)
        Circle(SKETCH1_ON_SEGMENT_8_R_2, mode=Mode.SUBTRACT)
    revolve(axis=Axis((1020, 910, 225), (0, 1, 0)), revolution_arc=PIPE_CONFIGURED_21_3_X_2_3_5_8_ANGLE)


with BuildPart() as body_9:
    # Sketch1 on segment 9 (carried to segment 9) → Pipe - configured 21.3 X 2.3_5 9 (new body)
    with BuildSketch(Plane(origin=(1060, 910, 225), x_dir=(1, 0, 0), z_dir=(0, 0, -1))):
        Circle(SKETCH1_ON_SEGMENT_9_R)
        Circle(SKETCH1_ON_SEGMENT_9_R_2, mode=Mode.SUBTRACT)
    extrude(amount=PIPE_CONFIGURED_21_3_X_2_3_5_9_DEPTH)


with BuildPart() as body_10:
    # Sketch1 on segment 10 (carried to the start of arc 10) → Pipe - configured 21.3 X 2.3_5 10 (revolve)
    with BuildSketch(Plane(origin=(1060, 910, -225), x_dir=(1, 0, 0), z_dir=(0, 0, -1))):
        Circle(SKETCH1_ON_SEGMENT_10_R)
        Circle(SKETCH1_ON_SEGMENT_10_R_2, mode=Mode.SUBTRACT)
    revolve(axis=Axis((1020, 910, -225), (0, 1, 0)), revolution_arc=PIPE_CONFIGURED_21_3_X_2_3_5_10_ANGLE)


with BuildPart() as body_11:
    # Sketch1 on segment 11 (carried to segment 11) → Pipe - configured 21.3 X 2.3_5 11 (new body)
    with BuildSketch(Plane(origin=(1020, 910, -265), x_dir=(0, 1, 0), z_dir=(-1, 0, 0))):
        Circle(SKETCH1_ON_SEGMENT_11_R)
        Circle(SKETCH1_ON_SEGMENT_11_R_2, mode=Mode.SUBTRACT)
    extrude(amount=PIPE_CONFIGURED_21_3_X_2_3_5_11_DEPTH)


with BuildPart() as body_12:
    # Sketch1 on segment 12 (carried to the start of arc 12) → Pipe - configured 21.3 X 2.3_5 12 (revolve)
    with BuildSketch(Plane(origin=(946.661428142, 910, -265), x_dir=(0, 1, 0), z_dir=(-1, 0, 0))):
        Circle(SKETCH1_ON_SEGMENT_12_R)
        Circle(SKETCH1_ON_SEGMENT_12_R_2, mode=Mode.SUBTRACT)
    revolve(axis=Axis((946.661428142, 870.00077706, -264.750672476), (0, 0.006233188, 0.999980573)), revolution_arc=PIPE_CONFIGURED_21_3_X_2_3_5_12_ANGLE)


with BuildPart() as body_13:
    # Sketch1 on segment 13 (carried to segment 13) → Pipe - configured 21.3 X 2.3_5 13 (new body)
    with BuildSketch(Plane(origin=(853.500633741, 262.563959272, -260.964330982), x_dir=(0.996214014, -0.086934254, 0.000270428), z_dir=(0.086934254, 0.996194698, -0.00620959))):
        Circle(SKETCH1_ON_SEGMENT_13_R)
        Circle(SKETCH1_ON_SEGMENT_13_R_2, mode=Mode.SUBTRACT)
    extrude(amount=PIPE_CONFIGURED_21_3_X_2_3_5_13_DEPTH)


with BuildPart() as body_14:
    # Sketch1 on segment 14 (carried to the start of arc 14) → Pipe - configured 21.3 X 2.3_5 14 (revolve)
    with BuildSketch(Plane(origin=(858.694173544, 239.077729562, -261.33529811), x_dir=(0.866705478, 0.49872935, 0.009521037), z_dir=(-0.49872935, 0.866025404, 0.035623525))):
        Circle(SKETCH1_ON_SEGMENT_14_R)
        Circle(SKETCH1_ON_SEGMENT_14_R_2, mode=Mode.SUBTRACT)
    revolve(axis=Axis((893.247156475, 259.077729562, -263.80336832), (-0.07124705, 0, -0.9974587)), revolution_arc=PIPE_CONFIGURED_21_3_X_2_3_5_14_ANGLE)


with BuildPart() as body_15:
    # Sketch1 on segment 15 (carried to segment 15) → Pipe - configured 21.3 X 2.3_5 15 (new body)
    with BuildSketch(Plane(origin=(904.654634938, 159.269057496, -264.61818821), x_dir=(0.866705478, 0.49872935, 0.009521037), z_dir=(-0.49872935, 0.866025404, 0.035623525))):
        Circle(SKETCH1_ON_SEGMENT_15_R)
        Circle(SKETCH1_ON_SEGMENT_15_R_2, mode=Mode.SUBTRACT)
    extrude(amount=PIPE_CONFIGURED_21_3_X_2_3_5_15_DEPTH)


with BuildPart() as body_16:
    # Sketch1 on segment 16 (carried to the start of arc 16) → Pipe - configured 21.3 X 2.3_5 16 (revolve)
    with BuildSketch(Plane(origin=(910, 139.269057496, -265), x_dir=(1, 0, 0), z_dir=(0, 1, 0))):
        Circle(SKETCH1_ON_SEGMENT_16_R)
        Circle(SKETCH1_ON_SEGMENT_16_R_2, mode=Mode.SUBTRACT)
    revolve(axis=Axis((870.101652007, 139.269057496, -262.150118), (0.07124705, 0, 0.9974587)), revolution_arc=PIPE_CONFIGURED_21_3_X_2_3_5_16_ANGLE)


with BuildPart() as body_17:
    # Sketch1 on segment 17 (carried to segment 17) → Pipe - configured 21.3 X 2.3_5 17 (new body)
    with BuildSketch(Plane(origin=(910, 0, -265), x_dir=(1, 0, 0), z_dir=(0, 1, 0))):
        Circle(SKETCH1_ON_SEGMENT_17_R)
        Circle(SKETCH1_ON_SEGMENT_17_R_2, mode=Mode.SUBTRACT)
    extrude(amount=PIPE_CONFIGURED_21_3_X_2_3_5_17_DEPTH)


with BuildPart() as corte_extrus_o3_tool:
    # Esboço12 → Corte-extrusão3 (new, two sides: drawn at the far end of the back side and taken through both)
    with BuildSketch(Plane.XY.offset(-CORTE_EXTRUS_O3_DEPTH_BACK)):
        with Locations((910, 0)):
            Circle(ESBO_O12_R)
    extrude(amount=CORTE_EXTRUS_O3_DEPTH + CORTE_EXTRUS_O3_DEPTH_BACK)


with BuildPart() as part_1:
    add(part.part)

    # Corte-extrusão3: cut by corte_extrus_o3_tool
    add(corte_extrus_o3_tool.part, mode=Mode.SUBTRACT)


with BuildPart() as body_17_1:
    add(body_17.part)

    # Corte-extrusão3: cut by corte_extrus_o3_tool
    add(corte_extrus_o3_tool.part, mode=Mode.SUBTRACT)


with BuildPart() as corte_extrus_o5_tool:
    # Esboço14 → Corte-extrusão5 (new body)
    with BuildSketch(Plane(origin=(910, 0, 0), x_dir=(0, 0, -1), z_dir=(1, 0, 0))):
        with Locations((-265, 0)):
            Circle(ESBO_O14_R)
        with Locations((265, 0)):
            Circle(ESBO_O14_R)
    extrude(amount=-CORTE_EXTRUS_O5_DEPTH)


with BuildPart() as part_2:
    add(part_1.part)

    # Corte-extrusão5: cut by corte_extrus_o5_tool
    add(corte_extrus_o5_tool.part, mode=Mode.SUBTRACT)


with BuildPart() as body_17_2:
    add(body_17_1.part)

    # Corte-extrusão5: cut by corte_extrus_o5_tool
    add(corte_extrus_o5_tool.part, mode=Mode.SUBTRACT)


solid = Compound([body_2.part, body_3.part, body_4.part, body_5.part, body_6.part, body_7.part, body_8.part, body_9.part, body_10.part, body_11.part, body_12.part, body_13.part, body_14.part, body_15.part, body_16.part, part_2.part, body_17_2.part])
